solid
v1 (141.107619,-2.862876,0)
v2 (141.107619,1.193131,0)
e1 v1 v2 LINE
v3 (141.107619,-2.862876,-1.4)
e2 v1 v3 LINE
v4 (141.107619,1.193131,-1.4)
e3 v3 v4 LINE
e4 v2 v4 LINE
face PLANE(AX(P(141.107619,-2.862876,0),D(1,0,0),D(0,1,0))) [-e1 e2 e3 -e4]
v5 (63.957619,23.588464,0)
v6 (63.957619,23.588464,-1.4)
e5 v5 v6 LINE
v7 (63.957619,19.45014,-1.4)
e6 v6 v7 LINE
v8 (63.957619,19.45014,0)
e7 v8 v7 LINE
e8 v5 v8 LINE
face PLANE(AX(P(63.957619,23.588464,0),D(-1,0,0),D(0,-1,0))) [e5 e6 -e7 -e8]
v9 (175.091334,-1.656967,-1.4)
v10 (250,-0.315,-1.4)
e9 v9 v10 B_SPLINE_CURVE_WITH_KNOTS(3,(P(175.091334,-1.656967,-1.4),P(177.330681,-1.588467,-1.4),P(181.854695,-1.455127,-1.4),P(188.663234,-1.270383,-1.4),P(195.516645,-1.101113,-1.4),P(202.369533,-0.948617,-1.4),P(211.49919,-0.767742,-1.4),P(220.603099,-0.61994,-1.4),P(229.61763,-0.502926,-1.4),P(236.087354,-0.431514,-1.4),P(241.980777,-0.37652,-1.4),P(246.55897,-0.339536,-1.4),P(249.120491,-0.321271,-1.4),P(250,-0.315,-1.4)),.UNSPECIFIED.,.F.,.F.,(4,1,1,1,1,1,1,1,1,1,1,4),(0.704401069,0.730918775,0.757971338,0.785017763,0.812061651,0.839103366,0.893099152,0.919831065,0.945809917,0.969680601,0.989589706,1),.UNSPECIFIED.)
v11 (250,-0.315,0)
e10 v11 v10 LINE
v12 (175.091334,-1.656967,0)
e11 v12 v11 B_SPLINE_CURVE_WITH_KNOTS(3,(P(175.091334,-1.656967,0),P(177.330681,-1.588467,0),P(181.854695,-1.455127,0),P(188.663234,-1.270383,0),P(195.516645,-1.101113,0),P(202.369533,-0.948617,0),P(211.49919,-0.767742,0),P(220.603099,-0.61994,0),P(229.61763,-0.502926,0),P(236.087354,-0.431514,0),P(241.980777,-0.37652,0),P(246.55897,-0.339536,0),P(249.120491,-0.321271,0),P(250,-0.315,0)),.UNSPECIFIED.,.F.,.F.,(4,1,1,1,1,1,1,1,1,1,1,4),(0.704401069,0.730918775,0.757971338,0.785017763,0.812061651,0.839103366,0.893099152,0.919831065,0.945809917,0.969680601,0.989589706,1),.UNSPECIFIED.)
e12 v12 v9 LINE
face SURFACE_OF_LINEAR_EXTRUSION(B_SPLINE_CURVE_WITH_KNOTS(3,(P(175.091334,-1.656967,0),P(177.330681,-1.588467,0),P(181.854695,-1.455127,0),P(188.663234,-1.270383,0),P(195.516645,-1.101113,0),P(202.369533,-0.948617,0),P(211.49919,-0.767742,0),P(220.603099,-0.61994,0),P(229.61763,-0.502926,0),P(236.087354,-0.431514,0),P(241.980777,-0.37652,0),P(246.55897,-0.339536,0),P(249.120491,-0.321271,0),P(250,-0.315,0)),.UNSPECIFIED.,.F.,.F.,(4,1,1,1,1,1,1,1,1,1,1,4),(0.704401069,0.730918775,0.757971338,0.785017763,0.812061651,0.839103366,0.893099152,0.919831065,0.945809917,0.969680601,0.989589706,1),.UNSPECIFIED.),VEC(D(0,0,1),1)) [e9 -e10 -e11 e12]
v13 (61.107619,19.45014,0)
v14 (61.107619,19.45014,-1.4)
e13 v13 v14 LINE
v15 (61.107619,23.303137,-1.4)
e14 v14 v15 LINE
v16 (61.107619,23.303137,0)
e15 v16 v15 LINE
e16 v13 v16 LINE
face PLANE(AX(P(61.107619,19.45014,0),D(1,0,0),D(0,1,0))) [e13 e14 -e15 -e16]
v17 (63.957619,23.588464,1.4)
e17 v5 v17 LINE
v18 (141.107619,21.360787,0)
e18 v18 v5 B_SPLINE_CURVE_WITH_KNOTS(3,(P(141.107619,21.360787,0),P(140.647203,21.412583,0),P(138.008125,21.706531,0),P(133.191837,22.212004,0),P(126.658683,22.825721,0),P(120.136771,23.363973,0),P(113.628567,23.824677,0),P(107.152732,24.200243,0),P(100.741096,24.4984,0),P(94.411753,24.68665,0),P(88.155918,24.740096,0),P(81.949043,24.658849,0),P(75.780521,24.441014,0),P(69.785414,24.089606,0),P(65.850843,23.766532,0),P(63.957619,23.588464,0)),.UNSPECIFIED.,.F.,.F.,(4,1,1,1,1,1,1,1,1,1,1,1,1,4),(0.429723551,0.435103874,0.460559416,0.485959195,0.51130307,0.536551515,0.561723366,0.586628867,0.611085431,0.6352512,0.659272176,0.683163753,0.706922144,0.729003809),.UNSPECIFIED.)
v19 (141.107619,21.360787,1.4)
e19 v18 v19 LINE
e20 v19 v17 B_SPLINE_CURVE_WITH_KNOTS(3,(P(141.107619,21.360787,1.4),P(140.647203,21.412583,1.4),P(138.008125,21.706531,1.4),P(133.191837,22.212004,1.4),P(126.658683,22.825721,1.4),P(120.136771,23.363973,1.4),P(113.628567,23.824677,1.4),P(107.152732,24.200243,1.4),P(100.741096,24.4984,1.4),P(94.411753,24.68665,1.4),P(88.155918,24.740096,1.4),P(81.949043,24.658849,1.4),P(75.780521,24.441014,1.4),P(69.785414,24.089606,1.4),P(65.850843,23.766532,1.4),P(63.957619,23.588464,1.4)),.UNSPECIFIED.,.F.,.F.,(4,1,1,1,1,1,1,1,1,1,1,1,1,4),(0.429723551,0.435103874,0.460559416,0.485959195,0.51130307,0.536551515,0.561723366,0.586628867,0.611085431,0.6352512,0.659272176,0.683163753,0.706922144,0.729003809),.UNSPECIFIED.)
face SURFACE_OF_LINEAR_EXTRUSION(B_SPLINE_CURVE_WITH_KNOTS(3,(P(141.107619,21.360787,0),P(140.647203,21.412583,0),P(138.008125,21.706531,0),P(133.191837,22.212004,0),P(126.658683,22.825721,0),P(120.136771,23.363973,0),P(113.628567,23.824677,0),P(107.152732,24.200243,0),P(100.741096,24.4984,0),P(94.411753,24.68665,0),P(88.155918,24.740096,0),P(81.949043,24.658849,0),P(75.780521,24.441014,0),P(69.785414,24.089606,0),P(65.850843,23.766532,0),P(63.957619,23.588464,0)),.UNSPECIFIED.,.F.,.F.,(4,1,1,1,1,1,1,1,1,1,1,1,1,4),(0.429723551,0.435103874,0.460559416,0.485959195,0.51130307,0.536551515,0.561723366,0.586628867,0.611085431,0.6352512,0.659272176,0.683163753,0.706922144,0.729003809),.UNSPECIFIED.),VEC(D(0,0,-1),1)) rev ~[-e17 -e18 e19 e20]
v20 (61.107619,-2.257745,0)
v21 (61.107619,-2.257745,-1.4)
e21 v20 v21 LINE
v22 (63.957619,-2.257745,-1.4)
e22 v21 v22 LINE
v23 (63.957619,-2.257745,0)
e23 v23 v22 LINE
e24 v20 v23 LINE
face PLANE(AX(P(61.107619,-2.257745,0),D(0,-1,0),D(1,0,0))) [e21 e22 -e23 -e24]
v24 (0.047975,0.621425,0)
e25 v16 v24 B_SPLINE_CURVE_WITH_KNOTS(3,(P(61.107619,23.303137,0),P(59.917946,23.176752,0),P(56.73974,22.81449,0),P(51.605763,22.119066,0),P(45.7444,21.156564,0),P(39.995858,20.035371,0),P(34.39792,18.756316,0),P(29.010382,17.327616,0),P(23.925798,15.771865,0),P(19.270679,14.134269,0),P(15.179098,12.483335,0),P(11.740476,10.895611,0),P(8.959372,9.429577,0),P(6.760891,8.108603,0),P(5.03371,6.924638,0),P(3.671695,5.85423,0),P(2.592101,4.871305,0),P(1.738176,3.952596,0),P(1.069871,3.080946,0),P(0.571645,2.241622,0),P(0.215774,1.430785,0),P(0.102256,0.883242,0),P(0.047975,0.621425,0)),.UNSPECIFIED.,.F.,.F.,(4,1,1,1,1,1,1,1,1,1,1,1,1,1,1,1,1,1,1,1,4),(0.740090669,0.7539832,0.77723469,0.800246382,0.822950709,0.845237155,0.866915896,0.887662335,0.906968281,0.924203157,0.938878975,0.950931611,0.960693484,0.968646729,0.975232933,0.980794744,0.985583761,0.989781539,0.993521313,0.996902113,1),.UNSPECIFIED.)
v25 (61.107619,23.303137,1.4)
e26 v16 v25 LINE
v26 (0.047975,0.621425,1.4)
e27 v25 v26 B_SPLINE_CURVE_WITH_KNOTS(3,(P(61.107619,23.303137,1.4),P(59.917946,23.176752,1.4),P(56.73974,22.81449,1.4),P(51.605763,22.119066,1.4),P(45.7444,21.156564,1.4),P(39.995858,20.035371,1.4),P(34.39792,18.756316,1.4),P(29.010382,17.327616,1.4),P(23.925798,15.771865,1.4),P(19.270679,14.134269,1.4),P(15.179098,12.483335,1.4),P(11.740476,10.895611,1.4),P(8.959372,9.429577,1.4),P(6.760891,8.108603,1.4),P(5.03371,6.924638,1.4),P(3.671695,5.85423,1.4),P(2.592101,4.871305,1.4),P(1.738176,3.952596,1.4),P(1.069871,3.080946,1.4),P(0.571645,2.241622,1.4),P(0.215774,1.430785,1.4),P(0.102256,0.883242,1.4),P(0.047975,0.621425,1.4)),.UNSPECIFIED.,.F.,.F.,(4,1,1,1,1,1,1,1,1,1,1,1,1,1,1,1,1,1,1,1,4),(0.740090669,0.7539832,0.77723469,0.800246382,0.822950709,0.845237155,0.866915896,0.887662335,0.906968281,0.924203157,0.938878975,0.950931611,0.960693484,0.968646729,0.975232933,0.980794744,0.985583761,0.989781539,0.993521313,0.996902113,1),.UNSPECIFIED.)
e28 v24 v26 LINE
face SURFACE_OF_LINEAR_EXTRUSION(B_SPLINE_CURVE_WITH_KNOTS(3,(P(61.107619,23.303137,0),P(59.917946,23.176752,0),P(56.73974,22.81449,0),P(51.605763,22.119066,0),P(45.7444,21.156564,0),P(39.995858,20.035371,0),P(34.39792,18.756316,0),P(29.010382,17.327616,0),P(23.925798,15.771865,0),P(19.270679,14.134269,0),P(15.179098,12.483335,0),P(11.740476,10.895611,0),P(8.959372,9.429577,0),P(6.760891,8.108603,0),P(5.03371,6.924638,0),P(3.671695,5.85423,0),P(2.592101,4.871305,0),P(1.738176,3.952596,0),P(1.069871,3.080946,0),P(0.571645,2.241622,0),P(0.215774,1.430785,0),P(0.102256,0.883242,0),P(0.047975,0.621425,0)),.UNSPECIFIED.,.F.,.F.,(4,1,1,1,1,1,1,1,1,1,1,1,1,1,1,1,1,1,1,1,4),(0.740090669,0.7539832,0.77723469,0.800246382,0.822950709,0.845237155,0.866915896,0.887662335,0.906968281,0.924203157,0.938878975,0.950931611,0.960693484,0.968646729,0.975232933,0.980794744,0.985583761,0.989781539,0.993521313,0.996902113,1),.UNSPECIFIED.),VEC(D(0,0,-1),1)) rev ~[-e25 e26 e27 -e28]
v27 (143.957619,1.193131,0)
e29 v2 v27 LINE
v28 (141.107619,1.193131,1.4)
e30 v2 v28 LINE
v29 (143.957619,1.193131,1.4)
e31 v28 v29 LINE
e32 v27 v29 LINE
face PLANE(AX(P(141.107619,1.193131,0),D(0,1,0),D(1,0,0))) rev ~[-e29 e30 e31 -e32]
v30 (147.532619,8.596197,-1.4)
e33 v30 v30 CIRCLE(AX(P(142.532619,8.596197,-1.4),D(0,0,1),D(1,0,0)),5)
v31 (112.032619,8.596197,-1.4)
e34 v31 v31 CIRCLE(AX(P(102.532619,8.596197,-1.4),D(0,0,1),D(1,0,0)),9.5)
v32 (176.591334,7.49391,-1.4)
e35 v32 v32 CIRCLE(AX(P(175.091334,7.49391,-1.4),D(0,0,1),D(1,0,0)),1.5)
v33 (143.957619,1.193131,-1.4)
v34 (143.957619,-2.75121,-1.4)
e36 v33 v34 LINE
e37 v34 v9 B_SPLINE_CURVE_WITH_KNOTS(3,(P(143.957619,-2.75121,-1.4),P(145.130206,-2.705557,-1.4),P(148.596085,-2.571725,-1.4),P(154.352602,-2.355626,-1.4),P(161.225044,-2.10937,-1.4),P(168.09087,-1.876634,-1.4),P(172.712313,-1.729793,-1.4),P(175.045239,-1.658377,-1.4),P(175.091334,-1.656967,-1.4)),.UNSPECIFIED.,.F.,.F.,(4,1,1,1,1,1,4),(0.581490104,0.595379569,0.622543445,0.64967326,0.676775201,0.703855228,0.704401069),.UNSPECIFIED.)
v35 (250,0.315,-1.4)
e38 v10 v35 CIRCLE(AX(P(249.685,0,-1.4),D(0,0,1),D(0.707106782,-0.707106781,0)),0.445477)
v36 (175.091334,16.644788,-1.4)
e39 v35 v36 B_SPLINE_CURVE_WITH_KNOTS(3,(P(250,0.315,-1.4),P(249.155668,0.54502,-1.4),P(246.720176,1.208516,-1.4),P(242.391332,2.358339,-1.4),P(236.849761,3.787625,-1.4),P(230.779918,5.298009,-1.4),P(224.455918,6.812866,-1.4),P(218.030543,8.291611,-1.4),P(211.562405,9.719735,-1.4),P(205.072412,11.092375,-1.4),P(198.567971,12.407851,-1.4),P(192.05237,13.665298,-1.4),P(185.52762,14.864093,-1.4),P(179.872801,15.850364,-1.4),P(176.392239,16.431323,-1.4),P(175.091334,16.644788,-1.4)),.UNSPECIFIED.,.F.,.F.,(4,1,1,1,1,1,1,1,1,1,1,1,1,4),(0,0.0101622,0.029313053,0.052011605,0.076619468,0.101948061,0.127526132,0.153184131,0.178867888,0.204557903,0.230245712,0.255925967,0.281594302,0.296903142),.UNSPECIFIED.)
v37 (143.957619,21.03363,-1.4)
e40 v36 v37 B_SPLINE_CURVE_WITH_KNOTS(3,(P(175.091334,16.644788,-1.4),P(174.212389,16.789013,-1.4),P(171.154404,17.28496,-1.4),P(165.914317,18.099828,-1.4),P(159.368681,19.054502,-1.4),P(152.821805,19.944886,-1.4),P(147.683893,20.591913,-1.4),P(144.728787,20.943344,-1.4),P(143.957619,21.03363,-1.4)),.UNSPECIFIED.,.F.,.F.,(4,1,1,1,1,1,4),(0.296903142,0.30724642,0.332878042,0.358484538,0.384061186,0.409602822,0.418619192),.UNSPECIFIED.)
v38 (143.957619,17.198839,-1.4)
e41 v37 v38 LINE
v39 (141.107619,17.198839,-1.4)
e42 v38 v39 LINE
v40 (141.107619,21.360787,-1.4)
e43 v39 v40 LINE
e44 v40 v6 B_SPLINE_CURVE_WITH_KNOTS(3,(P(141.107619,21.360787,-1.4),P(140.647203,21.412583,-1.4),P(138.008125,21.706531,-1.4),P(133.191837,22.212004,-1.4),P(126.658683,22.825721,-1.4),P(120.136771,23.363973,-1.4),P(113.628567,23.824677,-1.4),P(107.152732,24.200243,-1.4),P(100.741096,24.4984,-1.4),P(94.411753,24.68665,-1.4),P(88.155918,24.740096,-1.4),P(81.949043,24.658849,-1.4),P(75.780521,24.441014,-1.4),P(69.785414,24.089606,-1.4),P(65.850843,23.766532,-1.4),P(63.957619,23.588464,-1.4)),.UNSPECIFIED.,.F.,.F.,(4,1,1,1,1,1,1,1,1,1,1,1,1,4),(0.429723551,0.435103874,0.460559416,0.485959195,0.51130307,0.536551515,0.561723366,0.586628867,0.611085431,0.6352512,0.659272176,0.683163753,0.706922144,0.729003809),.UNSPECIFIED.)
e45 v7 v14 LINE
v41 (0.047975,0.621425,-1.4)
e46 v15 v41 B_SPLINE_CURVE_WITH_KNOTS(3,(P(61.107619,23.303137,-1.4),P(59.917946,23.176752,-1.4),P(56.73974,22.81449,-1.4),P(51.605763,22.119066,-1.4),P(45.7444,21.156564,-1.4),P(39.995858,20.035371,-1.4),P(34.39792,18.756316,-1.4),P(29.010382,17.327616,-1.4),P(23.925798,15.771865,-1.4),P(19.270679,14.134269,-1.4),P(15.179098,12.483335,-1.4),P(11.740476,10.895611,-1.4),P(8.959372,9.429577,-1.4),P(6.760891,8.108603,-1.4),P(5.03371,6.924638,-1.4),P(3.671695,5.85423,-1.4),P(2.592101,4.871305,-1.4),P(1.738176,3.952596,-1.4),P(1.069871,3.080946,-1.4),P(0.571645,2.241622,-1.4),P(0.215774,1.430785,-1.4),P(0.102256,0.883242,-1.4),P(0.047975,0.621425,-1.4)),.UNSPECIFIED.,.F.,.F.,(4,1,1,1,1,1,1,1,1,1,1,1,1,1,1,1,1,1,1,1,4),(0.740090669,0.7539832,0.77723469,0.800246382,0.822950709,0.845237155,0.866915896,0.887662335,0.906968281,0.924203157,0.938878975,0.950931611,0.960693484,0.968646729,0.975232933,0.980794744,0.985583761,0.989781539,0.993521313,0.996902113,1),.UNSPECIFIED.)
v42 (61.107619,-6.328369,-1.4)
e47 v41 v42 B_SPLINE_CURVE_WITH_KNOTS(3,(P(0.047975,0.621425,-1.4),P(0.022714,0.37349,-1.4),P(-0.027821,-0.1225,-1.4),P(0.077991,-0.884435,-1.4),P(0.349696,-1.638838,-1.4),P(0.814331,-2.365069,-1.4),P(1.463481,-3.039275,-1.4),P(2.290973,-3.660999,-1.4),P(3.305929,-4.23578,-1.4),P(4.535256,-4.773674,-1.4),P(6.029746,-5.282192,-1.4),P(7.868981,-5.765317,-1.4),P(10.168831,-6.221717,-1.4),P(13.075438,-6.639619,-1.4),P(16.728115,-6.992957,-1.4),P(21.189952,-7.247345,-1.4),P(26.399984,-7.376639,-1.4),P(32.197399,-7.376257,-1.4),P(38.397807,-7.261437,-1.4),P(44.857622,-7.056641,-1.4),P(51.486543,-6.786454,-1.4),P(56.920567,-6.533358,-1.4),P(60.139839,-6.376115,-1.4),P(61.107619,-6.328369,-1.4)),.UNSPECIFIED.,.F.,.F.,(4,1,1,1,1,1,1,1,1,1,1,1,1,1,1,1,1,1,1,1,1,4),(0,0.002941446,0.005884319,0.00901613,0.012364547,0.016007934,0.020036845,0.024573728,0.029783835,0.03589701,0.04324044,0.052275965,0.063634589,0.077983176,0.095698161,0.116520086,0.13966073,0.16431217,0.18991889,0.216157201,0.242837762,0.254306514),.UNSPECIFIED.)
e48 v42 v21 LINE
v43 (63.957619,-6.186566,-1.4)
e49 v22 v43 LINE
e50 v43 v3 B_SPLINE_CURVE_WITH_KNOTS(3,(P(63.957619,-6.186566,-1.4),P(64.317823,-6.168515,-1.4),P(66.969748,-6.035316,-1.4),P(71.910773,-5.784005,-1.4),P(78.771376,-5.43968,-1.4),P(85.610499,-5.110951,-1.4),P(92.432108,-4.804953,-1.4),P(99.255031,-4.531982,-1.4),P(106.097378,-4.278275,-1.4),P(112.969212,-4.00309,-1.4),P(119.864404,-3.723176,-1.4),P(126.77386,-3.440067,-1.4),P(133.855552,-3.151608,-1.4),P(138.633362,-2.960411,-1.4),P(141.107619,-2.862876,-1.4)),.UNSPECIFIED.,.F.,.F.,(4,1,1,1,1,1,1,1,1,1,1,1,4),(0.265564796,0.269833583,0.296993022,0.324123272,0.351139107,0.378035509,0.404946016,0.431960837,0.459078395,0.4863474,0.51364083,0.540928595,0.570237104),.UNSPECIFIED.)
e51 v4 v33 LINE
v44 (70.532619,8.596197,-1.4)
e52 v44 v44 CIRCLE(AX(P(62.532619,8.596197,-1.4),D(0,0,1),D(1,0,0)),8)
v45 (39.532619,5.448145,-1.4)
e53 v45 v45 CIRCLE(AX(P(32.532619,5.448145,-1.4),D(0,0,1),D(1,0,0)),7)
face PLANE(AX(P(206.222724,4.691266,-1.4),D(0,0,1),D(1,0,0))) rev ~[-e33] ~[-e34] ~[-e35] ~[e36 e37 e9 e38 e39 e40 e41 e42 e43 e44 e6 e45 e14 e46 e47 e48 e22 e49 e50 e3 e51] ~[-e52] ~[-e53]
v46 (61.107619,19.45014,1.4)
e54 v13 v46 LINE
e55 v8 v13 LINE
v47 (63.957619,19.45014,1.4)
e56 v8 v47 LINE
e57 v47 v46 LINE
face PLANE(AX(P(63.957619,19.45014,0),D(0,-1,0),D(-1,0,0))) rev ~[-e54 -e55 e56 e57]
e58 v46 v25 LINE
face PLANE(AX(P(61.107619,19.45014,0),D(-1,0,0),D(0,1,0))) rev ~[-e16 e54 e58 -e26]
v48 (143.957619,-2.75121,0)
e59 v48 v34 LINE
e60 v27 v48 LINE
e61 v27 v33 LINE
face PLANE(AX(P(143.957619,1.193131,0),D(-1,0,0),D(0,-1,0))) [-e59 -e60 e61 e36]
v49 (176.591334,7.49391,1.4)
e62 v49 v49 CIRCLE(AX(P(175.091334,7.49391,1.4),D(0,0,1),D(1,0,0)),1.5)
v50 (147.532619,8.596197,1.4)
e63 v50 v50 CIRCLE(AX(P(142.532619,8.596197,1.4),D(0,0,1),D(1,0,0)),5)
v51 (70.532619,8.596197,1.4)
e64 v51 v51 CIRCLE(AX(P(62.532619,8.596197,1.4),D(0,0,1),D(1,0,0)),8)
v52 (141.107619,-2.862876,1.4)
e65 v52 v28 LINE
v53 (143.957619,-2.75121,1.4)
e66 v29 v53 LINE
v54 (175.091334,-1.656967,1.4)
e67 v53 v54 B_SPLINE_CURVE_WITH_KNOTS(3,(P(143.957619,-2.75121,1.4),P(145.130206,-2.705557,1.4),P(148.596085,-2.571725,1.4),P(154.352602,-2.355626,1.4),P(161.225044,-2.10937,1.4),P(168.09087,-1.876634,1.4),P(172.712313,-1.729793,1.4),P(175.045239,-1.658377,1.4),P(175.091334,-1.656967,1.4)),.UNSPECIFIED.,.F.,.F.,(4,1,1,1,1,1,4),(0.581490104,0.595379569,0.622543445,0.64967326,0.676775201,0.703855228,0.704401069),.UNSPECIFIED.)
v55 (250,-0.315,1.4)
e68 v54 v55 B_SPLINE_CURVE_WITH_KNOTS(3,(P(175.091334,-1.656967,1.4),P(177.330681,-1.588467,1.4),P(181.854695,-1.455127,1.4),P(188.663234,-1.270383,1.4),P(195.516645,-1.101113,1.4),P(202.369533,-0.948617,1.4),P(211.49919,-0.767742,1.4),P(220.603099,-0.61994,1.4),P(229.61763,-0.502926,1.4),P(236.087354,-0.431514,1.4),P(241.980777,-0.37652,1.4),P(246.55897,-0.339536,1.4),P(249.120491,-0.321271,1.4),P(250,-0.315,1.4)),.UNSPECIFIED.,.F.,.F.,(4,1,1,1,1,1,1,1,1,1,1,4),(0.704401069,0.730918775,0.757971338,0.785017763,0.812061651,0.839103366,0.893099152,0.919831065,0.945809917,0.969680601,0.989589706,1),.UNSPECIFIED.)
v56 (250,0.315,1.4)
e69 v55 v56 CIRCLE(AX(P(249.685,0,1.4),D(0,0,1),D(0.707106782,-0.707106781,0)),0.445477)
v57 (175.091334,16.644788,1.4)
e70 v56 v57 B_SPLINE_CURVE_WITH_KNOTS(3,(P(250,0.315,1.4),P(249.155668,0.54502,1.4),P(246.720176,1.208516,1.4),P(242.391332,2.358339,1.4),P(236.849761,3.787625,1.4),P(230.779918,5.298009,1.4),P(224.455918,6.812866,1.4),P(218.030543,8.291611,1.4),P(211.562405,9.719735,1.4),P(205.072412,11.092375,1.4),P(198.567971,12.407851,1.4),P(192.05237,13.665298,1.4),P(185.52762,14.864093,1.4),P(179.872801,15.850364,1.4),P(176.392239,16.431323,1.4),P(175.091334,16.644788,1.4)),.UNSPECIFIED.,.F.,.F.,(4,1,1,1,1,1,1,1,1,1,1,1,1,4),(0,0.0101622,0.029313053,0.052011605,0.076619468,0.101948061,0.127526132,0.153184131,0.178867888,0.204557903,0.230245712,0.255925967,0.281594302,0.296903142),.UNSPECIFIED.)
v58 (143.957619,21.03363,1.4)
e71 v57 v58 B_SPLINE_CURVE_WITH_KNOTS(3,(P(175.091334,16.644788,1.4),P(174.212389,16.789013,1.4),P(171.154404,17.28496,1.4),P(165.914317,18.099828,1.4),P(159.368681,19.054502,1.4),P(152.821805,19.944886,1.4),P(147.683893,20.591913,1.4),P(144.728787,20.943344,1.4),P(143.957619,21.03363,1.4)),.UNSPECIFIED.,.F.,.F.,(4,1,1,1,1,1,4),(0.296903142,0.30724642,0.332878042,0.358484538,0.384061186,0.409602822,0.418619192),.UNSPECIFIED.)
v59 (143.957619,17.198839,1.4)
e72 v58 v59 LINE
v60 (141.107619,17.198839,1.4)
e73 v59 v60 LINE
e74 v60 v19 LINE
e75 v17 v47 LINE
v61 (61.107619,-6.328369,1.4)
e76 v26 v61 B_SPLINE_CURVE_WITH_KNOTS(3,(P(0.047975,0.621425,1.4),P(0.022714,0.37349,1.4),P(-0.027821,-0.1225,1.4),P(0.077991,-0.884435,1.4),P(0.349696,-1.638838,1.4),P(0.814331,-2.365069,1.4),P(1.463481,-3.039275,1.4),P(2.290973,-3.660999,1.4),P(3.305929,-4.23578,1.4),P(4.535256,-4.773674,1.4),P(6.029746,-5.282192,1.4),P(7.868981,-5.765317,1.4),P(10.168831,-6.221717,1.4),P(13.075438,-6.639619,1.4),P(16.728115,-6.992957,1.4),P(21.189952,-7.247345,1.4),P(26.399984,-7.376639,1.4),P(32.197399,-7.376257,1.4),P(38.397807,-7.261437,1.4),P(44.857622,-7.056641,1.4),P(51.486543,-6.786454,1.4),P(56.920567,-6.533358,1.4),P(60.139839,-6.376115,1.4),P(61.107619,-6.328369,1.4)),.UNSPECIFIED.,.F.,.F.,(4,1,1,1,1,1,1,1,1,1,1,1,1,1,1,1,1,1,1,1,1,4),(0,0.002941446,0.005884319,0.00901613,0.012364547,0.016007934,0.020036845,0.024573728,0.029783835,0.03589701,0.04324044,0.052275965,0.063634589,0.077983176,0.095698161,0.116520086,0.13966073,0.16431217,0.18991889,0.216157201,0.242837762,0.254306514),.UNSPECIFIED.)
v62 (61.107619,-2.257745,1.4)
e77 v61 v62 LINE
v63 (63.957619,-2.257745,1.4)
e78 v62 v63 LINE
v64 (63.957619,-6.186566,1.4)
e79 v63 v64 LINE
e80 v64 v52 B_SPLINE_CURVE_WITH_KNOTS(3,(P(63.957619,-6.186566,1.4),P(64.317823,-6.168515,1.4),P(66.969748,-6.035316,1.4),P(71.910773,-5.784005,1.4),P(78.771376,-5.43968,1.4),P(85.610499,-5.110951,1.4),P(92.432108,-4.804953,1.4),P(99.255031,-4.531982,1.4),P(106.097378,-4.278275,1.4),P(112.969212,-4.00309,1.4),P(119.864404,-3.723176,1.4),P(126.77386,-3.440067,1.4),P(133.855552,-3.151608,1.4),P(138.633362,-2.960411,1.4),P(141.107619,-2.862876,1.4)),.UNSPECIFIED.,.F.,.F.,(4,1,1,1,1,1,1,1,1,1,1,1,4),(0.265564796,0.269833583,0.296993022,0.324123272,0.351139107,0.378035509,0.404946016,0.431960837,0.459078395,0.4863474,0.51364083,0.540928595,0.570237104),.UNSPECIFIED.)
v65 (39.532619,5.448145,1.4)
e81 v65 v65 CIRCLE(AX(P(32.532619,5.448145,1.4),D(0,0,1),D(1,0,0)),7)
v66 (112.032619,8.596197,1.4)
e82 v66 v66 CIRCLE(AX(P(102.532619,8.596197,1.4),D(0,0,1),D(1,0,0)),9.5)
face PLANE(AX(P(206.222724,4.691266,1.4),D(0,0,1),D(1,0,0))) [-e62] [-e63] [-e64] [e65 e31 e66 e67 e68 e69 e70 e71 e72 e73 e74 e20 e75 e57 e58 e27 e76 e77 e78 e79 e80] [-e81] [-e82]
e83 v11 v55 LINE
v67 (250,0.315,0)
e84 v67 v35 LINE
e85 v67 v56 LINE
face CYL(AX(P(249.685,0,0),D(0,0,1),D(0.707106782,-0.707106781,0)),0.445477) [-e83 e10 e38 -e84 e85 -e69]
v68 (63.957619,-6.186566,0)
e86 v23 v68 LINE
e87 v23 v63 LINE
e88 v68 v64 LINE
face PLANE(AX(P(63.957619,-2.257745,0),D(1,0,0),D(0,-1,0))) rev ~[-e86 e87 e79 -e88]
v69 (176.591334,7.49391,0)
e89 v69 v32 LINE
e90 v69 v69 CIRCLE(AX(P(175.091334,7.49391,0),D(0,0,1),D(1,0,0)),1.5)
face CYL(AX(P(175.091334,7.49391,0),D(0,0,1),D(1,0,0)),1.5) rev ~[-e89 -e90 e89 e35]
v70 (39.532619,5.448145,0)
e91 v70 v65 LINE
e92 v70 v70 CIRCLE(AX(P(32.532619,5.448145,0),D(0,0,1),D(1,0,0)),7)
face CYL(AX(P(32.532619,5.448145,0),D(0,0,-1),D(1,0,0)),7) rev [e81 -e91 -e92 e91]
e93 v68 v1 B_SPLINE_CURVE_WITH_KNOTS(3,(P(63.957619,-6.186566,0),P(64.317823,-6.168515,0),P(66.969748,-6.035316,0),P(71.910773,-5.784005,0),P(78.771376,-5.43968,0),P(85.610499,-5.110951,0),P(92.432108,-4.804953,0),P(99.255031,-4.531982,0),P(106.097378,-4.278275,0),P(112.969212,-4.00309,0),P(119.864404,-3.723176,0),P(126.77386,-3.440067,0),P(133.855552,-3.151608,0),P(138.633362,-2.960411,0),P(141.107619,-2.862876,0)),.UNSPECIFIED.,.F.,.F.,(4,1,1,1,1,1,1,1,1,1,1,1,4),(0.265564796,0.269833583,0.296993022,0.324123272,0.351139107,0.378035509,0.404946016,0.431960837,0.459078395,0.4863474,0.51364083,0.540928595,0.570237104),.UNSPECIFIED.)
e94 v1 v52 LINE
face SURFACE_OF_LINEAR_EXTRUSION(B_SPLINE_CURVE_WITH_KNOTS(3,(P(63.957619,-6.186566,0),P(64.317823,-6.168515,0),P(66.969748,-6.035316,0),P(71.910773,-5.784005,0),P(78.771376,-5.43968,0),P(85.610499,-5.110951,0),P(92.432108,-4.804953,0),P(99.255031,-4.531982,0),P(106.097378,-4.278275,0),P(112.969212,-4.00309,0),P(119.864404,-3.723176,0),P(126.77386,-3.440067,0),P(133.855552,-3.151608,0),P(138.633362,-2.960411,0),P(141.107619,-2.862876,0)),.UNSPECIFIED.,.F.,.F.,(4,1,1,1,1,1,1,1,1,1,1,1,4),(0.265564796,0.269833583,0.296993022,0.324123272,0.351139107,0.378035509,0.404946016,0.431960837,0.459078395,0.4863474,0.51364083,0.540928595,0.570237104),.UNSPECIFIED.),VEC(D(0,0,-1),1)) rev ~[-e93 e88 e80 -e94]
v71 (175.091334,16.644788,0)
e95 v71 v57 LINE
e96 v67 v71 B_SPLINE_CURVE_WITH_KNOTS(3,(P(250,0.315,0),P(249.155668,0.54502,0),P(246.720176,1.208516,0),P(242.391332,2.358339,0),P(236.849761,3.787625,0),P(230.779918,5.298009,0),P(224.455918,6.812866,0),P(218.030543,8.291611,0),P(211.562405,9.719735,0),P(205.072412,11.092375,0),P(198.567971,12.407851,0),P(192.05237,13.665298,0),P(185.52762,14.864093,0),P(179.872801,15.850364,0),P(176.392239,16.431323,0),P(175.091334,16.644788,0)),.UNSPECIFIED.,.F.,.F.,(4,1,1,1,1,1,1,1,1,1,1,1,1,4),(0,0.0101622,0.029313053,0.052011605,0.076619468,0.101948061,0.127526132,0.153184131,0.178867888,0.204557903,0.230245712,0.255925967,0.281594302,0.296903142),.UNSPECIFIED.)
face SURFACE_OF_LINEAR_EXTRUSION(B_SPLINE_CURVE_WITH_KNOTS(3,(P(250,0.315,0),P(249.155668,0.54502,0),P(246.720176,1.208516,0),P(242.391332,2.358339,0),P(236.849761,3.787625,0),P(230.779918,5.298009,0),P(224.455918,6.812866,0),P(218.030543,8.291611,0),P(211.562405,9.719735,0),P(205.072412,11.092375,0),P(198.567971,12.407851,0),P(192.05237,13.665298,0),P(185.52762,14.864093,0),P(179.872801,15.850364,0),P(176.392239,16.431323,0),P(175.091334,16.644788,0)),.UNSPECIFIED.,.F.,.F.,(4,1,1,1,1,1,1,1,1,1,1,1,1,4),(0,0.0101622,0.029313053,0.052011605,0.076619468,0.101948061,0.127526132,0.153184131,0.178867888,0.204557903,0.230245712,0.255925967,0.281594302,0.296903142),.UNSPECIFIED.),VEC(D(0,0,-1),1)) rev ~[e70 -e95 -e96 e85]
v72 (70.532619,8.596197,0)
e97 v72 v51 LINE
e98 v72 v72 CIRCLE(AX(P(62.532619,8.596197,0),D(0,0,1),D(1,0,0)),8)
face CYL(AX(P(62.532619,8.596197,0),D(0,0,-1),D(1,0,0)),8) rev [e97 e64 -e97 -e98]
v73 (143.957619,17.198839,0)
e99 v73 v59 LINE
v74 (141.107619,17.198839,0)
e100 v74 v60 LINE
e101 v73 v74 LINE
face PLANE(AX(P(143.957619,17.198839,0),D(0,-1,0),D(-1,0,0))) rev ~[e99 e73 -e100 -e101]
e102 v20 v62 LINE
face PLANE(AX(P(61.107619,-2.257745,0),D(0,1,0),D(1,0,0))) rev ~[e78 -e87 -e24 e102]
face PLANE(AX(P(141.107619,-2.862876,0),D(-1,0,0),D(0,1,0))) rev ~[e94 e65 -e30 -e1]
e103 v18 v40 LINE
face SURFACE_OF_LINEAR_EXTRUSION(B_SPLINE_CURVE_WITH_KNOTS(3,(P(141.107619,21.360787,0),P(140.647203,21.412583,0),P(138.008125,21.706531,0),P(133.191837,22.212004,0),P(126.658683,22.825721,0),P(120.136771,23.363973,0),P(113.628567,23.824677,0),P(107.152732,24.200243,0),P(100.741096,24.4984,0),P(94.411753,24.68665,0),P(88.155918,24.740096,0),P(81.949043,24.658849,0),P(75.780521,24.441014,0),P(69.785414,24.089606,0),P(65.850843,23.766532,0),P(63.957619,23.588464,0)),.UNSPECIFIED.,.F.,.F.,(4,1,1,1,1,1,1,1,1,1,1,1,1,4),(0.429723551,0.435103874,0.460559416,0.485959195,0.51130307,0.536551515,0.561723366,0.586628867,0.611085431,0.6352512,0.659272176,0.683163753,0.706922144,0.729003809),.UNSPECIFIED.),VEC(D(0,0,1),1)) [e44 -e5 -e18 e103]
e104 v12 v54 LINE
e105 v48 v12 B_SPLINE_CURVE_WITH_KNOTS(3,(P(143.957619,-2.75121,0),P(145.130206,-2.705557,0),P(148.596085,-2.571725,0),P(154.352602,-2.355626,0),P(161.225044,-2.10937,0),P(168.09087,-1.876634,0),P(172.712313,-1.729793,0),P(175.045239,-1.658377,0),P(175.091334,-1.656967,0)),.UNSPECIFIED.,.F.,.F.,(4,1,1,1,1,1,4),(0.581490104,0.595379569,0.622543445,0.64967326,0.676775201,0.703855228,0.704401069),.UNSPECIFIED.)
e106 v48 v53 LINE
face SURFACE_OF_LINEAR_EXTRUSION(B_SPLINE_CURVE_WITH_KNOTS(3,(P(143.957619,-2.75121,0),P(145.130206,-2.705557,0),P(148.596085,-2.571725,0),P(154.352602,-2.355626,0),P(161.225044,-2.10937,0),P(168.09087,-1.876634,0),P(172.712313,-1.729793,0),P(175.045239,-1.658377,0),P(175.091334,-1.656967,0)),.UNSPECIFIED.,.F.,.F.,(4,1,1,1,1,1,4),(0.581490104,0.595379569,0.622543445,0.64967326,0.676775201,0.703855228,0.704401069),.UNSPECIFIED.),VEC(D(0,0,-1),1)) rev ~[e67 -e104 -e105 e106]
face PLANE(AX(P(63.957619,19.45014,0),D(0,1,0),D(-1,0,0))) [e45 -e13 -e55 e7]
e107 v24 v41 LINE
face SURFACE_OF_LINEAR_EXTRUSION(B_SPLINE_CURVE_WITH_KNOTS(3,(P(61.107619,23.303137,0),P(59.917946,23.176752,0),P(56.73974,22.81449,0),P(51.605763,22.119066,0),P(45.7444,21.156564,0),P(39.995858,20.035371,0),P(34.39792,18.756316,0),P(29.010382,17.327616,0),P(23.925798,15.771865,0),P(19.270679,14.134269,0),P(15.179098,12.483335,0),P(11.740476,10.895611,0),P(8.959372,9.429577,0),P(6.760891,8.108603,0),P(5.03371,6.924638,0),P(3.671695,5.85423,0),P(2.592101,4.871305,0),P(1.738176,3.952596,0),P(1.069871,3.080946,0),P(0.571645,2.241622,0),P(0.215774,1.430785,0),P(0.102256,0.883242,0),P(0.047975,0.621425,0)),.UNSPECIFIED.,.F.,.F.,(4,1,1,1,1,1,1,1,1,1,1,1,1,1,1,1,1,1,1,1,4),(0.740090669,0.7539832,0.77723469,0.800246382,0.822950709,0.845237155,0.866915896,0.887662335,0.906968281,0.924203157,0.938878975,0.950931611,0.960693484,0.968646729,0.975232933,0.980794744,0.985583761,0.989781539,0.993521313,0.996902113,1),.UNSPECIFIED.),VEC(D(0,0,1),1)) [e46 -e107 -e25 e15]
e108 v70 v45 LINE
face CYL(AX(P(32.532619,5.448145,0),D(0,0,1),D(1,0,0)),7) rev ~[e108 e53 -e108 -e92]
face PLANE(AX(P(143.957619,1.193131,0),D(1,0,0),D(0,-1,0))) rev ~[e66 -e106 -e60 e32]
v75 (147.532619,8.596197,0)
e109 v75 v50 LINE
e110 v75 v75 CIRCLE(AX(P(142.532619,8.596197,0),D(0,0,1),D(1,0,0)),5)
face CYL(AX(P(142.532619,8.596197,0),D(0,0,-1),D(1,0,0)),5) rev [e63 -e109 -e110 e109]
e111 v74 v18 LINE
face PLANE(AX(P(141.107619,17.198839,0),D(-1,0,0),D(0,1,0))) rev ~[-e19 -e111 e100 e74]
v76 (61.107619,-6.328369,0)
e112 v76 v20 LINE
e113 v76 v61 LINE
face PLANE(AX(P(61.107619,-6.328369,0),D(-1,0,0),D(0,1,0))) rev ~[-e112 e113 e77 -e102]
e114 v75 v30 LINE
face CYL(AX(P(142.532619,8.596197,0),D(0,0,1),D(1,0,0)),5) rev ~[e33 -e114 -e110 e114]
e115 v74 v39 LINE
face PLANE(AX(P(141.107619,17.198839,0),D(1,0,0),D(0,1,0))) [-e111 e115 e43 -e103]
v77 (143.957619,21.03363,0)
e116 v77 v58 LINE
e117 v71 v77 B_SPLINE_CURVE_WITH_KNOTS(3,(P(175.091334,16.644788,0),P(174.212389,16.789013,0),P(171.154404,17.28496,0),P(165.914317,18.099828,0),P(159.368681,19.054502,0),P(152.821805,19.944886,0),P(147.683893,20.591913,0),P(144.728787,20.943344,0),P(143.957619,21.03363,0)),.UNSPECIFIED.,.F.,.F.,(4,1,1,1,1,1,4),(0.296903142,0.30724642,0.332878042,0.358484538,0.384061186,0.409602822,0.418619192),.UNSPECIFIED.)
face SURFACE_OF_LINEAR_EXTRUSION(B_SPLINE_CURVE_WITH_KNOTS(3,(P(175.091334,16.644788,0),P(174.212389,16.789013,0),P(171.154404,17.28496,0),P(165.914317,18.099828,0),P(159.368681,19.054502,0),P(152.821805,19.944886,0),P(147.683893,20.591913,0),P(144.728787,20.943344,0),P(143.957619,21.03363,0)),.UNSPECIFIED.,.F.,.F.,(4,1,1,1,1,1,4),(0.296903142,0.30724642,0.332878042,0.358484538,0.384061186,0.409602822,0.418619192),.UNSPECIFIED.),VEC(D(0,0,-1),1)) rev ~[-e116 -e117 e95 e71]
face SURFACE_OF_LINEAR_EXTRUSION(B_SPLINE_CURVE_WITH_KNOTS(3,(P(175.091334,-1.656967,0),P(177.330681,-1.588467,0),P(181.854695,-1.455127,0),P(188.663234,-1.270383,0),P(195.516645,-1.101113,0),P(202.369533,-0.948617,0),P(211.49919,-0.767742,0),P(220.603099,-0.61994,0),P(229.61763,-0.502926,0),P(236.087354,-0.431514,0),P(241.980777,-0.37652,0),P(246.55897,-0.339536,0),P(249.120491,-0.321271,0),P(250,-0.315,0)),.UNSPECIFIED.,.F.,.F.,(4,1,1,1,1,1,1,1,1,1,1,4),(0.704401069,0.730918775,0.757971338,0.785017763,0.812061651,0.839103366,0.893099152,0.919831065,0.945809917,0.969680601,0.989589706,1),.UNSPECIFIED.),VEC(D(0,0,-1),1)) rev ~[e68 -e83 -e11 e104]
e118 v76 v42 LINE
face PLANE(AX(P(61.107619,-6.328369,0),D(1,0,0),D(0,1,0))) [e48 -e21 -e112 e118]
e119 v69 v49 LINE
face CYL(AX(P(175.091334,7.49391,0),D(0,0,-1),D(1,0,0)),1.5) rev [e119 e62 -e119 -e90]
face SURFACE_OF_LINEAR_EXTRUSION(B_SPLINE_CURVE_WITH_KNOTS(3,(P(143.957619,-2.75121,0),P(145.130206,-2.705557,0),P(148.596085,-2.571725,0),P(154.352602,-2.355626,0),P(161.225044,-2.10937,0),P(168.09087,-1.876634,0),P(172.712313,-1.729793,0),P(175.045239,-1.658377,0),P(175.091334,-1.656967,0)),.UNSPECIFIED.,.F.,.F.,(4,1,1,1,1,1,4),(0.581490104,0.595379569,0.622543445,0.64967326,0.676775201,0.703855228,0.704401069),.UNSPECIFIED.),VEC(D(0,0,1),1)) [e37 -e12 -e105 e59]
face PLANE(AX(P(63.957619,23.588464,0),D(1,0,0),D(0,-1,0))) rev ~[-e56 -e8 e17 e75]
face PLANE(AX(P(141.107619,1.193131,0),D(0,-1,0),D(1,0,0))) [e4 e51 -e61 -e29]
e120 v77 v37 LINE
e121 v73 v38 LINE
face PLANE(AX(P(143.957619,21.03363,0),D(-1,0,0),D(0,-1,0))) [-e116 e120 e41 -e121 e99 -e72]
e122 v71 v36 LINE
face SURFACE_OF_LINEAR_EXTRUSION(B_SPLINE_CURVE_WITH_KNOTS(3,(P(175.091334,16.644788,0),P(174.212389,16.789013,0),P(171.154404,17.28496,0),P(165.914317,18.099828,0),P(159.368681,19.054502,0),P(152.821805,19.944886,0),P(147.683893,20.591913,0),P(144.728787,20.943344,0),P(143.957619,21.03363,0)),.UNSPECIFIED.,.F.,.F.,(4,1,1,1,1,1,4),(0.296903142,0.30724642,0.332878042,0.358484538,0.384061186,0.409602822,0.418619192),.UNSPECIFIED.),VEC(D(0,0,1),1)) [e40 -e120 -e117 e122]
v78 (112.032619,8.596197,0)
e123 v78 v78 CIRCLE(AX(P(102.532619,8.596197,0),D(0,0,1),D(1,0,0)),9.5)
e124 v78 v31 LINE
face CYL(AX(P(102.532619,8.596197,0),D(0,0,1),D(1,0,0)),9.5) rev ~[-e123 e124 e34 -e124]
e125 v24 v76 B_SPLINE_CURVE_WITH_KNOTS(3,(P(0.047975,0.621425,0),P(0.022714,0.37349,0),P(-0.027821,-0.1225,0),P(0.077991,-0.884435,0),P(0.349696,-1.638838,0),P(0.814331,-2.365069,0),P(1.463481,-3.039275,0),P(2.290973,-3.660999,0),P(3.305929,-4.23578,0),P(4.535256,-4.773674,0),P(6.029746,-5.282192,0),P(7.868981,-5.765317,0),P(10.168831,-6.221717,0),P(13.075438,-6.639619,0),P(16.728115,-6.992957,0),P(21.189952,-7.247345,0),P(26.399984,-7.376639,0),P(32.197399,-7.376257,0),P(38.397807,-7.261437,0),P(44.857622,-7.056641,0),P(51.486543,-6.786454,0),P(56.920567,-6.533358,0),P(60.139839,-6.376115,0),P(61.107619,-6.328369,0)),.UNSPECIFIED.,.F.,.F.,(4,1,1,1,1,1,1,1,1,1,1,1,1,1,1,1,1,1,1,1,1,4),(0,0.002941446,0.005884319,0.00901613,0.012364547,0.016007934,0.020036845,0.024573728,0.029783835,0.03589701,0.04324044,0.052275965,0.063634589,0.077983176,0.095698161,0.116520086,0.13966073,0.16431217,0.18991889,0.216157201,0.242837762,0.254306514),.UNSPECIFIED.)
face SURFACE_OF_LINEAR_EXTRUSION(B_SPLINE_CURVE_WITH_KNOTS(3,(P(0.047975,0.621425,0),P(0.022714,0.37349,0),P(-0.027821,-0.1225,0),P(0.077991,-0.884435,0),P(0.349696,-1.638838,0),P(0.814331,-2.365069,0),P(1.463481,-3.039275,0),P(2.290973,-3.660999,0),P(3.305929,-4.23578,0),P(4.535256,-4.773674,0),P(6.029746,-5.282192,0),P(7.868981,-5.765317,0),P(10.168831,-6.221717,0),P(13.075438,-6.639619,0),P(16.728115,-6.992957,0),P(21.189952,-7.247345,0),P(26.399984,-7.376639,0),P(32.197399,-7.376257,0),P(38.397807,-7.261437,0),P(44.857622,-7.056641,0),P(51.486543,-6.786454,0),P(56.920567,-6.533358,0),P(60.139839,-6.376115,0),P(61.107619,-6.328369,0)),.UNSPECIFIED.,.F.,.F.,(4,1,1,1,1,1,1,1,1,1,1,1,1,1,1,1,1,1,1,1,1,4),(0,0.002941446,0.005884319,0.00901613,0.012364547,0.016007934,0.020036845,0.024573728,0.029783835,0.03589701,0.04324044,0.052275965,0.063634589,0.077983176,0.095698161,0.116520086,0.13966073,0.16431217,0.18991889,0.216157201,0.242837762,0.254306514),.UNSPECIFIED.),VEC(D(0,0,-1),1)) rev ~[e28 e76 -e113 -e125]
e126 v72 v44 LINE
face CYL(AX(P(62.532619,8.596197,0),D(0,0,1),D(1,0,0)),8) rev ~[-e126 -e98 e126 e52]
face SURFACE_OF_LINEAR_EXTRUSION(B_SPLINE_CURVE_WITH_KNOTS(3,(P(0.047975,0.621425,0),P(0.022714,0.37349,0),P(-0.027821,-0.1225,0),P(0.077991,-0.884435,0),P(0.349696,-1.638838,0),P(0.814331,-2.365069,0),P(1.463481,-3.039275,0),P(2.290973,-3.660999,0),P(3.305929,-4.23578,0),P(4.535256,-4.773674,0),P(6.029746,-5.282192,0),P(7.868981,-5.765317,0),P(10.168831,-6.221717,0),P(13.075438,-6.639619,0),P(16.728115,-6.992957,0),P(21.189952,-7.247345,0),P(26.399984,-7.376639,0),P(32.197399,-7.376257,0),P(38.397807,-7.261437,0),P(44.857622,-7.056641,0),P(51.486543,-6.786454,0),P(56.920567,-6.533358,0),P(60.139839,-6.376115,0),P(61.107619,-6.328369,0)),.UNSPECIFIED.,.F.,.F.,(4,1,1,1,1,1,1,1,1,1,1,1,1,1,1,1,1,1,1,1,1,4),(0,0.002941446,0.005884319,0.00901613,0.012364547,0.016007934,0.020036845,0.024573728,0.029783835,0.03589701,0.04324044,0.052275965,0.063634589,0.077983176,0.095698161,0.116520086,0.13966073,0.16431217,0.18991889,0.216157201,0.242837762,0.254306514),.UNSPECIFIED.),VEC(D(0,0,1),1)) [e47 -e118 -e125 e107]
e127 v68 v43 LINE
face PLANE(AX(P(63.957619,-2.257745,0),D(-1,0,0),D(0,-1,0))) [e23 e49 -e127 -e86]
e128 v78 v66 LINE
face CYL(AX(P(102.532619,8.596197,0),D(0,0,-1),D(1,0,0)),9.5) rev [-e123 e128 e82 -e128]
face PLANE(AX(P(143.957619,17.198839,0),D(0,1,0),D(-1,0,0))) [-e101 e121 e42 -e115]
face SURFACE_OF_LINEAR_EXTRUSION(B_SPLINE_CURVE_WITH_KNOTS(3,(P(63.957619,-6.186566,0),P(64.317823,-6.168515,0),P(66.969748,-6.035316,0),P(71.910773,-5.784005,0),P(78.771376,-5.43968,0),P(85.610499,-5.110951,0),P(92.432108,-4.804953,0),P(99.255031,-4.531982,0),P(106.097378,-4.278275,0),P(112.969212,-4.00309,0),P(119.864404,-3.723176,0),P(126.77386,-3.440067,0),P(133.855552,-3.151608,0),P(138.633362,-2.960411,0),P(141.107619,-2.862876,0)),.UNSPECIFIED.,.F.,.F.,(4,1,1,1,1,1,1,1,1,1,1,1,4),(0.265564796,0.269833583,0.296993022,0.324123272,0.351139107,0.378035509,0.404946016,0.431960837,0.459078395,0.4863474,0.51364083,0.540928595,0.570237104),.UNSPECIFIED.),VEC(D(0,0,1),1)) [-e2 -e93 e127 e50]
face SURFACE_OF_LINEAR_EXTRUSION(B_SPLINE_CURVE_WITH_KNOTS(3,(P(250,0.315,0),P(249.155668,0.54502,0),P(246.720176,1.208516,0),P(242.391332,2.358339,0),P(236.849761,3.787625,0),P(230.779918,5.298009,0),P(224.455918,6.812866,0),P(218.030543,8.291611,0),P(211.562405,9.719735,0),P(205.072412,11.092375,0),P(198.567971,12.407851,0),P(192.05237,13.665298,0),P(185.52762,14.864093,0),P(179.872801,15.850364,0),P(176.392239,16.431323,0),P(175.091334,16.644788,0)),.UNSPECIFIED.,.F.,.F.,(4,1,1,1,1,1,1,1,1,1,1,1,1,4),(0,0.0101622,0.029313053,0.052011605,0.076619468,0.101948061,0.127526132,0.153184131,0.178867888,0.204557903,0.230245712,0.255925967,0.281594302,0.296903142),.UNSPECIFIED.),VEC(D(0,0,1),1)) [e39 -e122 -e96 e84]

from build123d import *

# Parameters (mm, degrees)
SKETCH_1_R      = 7
SKETCH_1_R_2    = 8
SKETCH_1_R_3    = 9.5
SKETCH_1_R_4    = 5
SKETCH_1_R_5    = 1.5
EXTRUDE_1_DEPTH = 1.4


with BuildPart() as part:
    # Эскиз1 → Бобышка-Вытянуть1 (new, symmetric)
    # profile 1 of 2: a face of its own
    with BuildSketch(Plane.XY):
        with BuildLine():
            Line((63.957619318, 19.450139662), (61.107619318, 19.450139662))
            Line((61.107619318, 19.450139662), (61.107619318, 23.303137173))
            add(Edge.make_bspline(
                [(61.107619318, 23.303137173), (59.917945614, 23.176751945), (56.739740439, 22.81448979), (51.605762688, 22.119065522), (45.744400311, 21.156564432), (39.995857594, 20.03537139), (34.397919842, 18.756316235), (29.010382103, 17.327615608), (23.925798408, 15.771864922), (19.27067884, 14.134269435), (15.179098391, 12.483335438), (11.74047579, 10.895610996), (8.959371869, 9.429577366), (6.76089118, 8.1086032), (5.033709748, 6.924638056), (3.671694933, 5.854229665), (2.592101123, 4.871305369), (1.738175668, 3.952595744), (1.06987083, 3.080946374), (0.57164541, 2.241622103), (0.215773899, 1.430785398), (0.102255581, 0.883241695), (0.047975, 0.621425001)],
                knots=[0.740090669, 0.740090669, 0.740090669, 0.740090669, 0.7539832, 0.77723469, 0.800246382, 0.822950709, 0.845237155, 0.866915896, 0.887662335, 0.906968281, 0.924203157, 0.938878975, 0.950931611, 0.960693484, 0.968646729, 0.975232933, 0.980794744, 0.985583761, 0.989781539, 0.993521313, 0.996902113, 1, 1, 1, 1], degree=3))
            add(Edge.make_bspline(
                [(0.047975, 0.621425001), (0.02271382, 0.373490086), (-0.027820789, -0.122499974), (0.077991212, -0.884434589), (0.34969565, -1.63883807), (0.814331135, -2.365068923), (1.46348078, -3.039275244), (2.290973016, -3.660999469), (3.30592875, -4.23577962), (4.535255619, -4.773674143), (6.029745688, -5.282192164), (7.868981215, -5.765316676), (10.168831391, -6.221716592), (13.075438188, -6.63961873), (16.728115362, -6.992956737), (21.189952096, -7.247345144), (26.399984415, -7.376638848), (32.197398564, -7.376256913), (38.397806759, -7.261436579), (44.857621768, -7.056641358), (51.486543096, -6.786453532), (56.920566709, -6.533358441), (60.139839208, -6.376114839), (61.107619318, -6.32836923)],
                knots=[0, 0, 0, 0, 0.002941446, 0.005884319, 0.00901613, 0.012364547, 0.016007934, 0.020036845, 0.024573728, 0.029783835, 0.03589701, 0.04324044, 0.052275965, 0.063634589, 0.077983176, 0.095698161, 0.116520086, 0.13966073, 0.16431217, 0.18991889, 0.216157201, 0.242837762, 0.254306514, 0.254306514, 0.254306514, 0.254306514], degree=3))
            Line((61.107619318, -6.32836923), (61.107619318, -2.257745247))
            Line((61.107619318, -2.257745247), (63.957619318, -2.257745247))
            Line((63.957619318, -2.257745247), (63.957619318, -6.186566126))
            add(Edge.make_bspline(
                [(63.957619318, -6.186566126), (64.317823095, -6.168514758), (66.969747676, -6.035316313), (71.910772709, -5.784005174), (78.771375576, -5.439680449), (85.610498609, -5.110951246), (92.432107589, -4.804953317), (99.25503119, -4.531981644), (106.097378404, -4.278274658), (112.96921168, -4.00308991), (119.864404254, -3.723176166), (126.773860473, -3.440067276), (133.855552455, -3.151608468), (138.633361552, -2.960411351), (141.107619318, -2.86287629)],
                knots=[0.265564796, 0.265564796, 0.265564796, 0.265564796, 0.269833583, 0.296993022, 0.324123272, 0.351139107, 0.378035509, 0.404946016, 0.431960837, 0.459078395, 0.4863474, 0.51364083, 0.540928595, 0.570237104, 0.570237104, 0.570237104, 0.570237104], degree=3))
            Line((141.107619318, -2.86287629), (141.107619318, 1.193130543))
            Line((141.107619318, 1.193130543), (143.957619318, 1.193130543))
            Line((143.957619318, 1.193130543), (143.957619318, -2.751209627))
            add(Edge.make_bspline(
                [(143.957619318, -2.751209627), (145.13020609, -2.705557458), (148.596084852, -2.571725453), (154.352602411, -2.355626415), (161.225044134, -2.109369921), (168.090869746, -1.876634074), (172.712313278, -1.729793129), (175.045239361, -1.65837681), (175.091334091, -1.656966802)],
                knots=[0.581490104, 0.581490104, 0.581490104, 0.581490104, 0.595379569, 0.622543445, 0.64967326, 0.676775201, 0.703855228, 0.704401069, 0.704401069, 0.704401069, 0.704401069], degree=3))
            ThreePointArc((175.091334091, -1.656966802), (165.940456932, 7.493910357), (175.091334091, 16.644787515))
            add(Edge.make_bspline(
                [(175.091334091, 16.644787515), (174.212389388, 16.789012775), (171.154404183, 17.284960287), (165.914317095, 18.099827841), (159.368680729, 19.054501815), (152.821805128, 19.944885603), (147.683892721, 20.591912914), (144.728786809, 20.943344409), (143.957619318, 21.033629847)],
                knots=[0.296903142, 0.296903142, 0.296903142, 0.296903142, 0.30724642, 0.332878042, 0.358484538, 0.384061186, 0.409602822, 0.418619192, 0.418619192, 0.418619192, 0.418619192], degree=3))
            Line((143.957619318, 21.033629847), (143.957619318, 17.19883932))
            Line((143.957619318, 17.19883932), (141.107619318, 17.19883932))
            Line((141.107619318, 17.19883932), (141.107619318, 21.360787161))
            add(Edge.make_bspline(
                [(141.107619318, 21.360787161), (140.647203073, 21.412583326), (138.008124909, 21.706530989), (133.19183673, 22.212004255), (126.658683026, 22.825721434), (120.136770918, 23.363973271), (113.62856714, 23.824677329), (107.152732037, 24.200242598), (100.741095693, 24.498399513), (94.411752715, 24.686649771), (88.155917993, 24.740095652), (81.949043055, 24.658849145), (75.780520591, 24.441013809), (69.785413798, 24.089605746), (65.850842722, 23.766532071), (63.957619318, 23.588464287)],
                knots=[0.429723551, 0.429723551, 0.429723551, 0.429723551, 0.435103874, 0.460559416, 0.485959195, 0.51130307, 0.536551515, 0.561723366, 0.586628867, 0.611085431, 0.6352512, 0.659272176, 0.683163753, 0.706922144, 0.729003809, 0.729003809, 0.729003809, 0.729003809], degree=3))
            Line((63.957619318, 23.588464287), (63.957619318, 19.450139662))
        make_face()
        with Locations((32.532619318, 5.448144701)):
            Circle(SKETCH_1_R, mode=Mode.SUBTRACT)
        with Locations((62.532619318, 8.596197208)):
            Circle(SKETCH_1_R_2, mode=Mode.SUBTRACT)
        with Locations((102.532619318, 8.596197208)):
            Circle(SKETCH_1_R_3, mode=Mode.SUBTRACT)
        with Locations((142.532619318, 8.596197208)):
            Circle(SKETCH_1_R_4, mode=Mode.SUBTRACT)
    # profile 2 of 2: a face of its own
    with BuildSketch(Plane.XY):
        with BuildLine():
            add(Edge.make_bspline(
                [(250, 0.315), (249.15566774, 0.545019818), (246.720175698, 1.208516243), (242.391332083, 2.358339053), (236.849761204, 3.787625364), (230.779918279, 5.298008837), (224.455917947, 6.812866028), (218.030543496, 8.291610632), (211.562405045, 9.719735057), (205.072411509, 11.092374932), (198.567970913, 12.407850726), (192.052369914, 13.665297924), (185.527619973, 14.864093303), (179.872800983, 15.850364437), (176.392239334, 16.431323122), (175.091334091, 16.644787515)],
                knots=[0, 0, 0, 0, 0.0101622, 0.029313053, 0.052011605, 0.076619468, 0.101948061, 0.127526132, 0.153184131, 0.178867888, 0.204557903, 0.230245712, 0.255925967, 0.281594302, 0.296903142, 0.296903142, 0.296903142, 0.296903142], degree=3))
            ThreePointArc((175.091334091, 16.644787515), (165.940456932, 7.493910357), (175.091334091, -1.656966802))
            add(Edge.make_bspline(
                [(175.091334091, -1.656966802), (177.330680613, -1.588466601), (181.854695323, -1.455127256), (188.663234462, -1.270383377), (195.516645168, -1.101112884), (202.369532894, -0.948617189), (211.49919029, -0.767742353), (220.603098666, -0.619939742), (229.617630172, -0.50292618), (236.087353854, -0.431514192), (241.980776913, -0.376520461), (246.558970011, -0.339535886), (249.120490965, -0.321271242), (250, -0.315)],
                knots=[0.704401069, 0.704401069, 0.704401069, 0.704401069, 0.730918775, 0.757971338, 0.785017763, 0.812061651, 0.839103366, 0.893099152, 0.919831065, 0.945809917, 0.969680601, 0.989589706, 1, 1, 1, 1], degree=3))
            ThreePointArc((250, -0.315), (250.130477272, 0), (250, 0.315))
        make_face()
        with Locations((175.091334091, 7.493910357)):
            Circle(SKETCH_1_R_5, mode=Mode.SUBTRACT)
    extrude(amount=EXTRUDE_1_DEPTH, both=True)


solid = part.part
